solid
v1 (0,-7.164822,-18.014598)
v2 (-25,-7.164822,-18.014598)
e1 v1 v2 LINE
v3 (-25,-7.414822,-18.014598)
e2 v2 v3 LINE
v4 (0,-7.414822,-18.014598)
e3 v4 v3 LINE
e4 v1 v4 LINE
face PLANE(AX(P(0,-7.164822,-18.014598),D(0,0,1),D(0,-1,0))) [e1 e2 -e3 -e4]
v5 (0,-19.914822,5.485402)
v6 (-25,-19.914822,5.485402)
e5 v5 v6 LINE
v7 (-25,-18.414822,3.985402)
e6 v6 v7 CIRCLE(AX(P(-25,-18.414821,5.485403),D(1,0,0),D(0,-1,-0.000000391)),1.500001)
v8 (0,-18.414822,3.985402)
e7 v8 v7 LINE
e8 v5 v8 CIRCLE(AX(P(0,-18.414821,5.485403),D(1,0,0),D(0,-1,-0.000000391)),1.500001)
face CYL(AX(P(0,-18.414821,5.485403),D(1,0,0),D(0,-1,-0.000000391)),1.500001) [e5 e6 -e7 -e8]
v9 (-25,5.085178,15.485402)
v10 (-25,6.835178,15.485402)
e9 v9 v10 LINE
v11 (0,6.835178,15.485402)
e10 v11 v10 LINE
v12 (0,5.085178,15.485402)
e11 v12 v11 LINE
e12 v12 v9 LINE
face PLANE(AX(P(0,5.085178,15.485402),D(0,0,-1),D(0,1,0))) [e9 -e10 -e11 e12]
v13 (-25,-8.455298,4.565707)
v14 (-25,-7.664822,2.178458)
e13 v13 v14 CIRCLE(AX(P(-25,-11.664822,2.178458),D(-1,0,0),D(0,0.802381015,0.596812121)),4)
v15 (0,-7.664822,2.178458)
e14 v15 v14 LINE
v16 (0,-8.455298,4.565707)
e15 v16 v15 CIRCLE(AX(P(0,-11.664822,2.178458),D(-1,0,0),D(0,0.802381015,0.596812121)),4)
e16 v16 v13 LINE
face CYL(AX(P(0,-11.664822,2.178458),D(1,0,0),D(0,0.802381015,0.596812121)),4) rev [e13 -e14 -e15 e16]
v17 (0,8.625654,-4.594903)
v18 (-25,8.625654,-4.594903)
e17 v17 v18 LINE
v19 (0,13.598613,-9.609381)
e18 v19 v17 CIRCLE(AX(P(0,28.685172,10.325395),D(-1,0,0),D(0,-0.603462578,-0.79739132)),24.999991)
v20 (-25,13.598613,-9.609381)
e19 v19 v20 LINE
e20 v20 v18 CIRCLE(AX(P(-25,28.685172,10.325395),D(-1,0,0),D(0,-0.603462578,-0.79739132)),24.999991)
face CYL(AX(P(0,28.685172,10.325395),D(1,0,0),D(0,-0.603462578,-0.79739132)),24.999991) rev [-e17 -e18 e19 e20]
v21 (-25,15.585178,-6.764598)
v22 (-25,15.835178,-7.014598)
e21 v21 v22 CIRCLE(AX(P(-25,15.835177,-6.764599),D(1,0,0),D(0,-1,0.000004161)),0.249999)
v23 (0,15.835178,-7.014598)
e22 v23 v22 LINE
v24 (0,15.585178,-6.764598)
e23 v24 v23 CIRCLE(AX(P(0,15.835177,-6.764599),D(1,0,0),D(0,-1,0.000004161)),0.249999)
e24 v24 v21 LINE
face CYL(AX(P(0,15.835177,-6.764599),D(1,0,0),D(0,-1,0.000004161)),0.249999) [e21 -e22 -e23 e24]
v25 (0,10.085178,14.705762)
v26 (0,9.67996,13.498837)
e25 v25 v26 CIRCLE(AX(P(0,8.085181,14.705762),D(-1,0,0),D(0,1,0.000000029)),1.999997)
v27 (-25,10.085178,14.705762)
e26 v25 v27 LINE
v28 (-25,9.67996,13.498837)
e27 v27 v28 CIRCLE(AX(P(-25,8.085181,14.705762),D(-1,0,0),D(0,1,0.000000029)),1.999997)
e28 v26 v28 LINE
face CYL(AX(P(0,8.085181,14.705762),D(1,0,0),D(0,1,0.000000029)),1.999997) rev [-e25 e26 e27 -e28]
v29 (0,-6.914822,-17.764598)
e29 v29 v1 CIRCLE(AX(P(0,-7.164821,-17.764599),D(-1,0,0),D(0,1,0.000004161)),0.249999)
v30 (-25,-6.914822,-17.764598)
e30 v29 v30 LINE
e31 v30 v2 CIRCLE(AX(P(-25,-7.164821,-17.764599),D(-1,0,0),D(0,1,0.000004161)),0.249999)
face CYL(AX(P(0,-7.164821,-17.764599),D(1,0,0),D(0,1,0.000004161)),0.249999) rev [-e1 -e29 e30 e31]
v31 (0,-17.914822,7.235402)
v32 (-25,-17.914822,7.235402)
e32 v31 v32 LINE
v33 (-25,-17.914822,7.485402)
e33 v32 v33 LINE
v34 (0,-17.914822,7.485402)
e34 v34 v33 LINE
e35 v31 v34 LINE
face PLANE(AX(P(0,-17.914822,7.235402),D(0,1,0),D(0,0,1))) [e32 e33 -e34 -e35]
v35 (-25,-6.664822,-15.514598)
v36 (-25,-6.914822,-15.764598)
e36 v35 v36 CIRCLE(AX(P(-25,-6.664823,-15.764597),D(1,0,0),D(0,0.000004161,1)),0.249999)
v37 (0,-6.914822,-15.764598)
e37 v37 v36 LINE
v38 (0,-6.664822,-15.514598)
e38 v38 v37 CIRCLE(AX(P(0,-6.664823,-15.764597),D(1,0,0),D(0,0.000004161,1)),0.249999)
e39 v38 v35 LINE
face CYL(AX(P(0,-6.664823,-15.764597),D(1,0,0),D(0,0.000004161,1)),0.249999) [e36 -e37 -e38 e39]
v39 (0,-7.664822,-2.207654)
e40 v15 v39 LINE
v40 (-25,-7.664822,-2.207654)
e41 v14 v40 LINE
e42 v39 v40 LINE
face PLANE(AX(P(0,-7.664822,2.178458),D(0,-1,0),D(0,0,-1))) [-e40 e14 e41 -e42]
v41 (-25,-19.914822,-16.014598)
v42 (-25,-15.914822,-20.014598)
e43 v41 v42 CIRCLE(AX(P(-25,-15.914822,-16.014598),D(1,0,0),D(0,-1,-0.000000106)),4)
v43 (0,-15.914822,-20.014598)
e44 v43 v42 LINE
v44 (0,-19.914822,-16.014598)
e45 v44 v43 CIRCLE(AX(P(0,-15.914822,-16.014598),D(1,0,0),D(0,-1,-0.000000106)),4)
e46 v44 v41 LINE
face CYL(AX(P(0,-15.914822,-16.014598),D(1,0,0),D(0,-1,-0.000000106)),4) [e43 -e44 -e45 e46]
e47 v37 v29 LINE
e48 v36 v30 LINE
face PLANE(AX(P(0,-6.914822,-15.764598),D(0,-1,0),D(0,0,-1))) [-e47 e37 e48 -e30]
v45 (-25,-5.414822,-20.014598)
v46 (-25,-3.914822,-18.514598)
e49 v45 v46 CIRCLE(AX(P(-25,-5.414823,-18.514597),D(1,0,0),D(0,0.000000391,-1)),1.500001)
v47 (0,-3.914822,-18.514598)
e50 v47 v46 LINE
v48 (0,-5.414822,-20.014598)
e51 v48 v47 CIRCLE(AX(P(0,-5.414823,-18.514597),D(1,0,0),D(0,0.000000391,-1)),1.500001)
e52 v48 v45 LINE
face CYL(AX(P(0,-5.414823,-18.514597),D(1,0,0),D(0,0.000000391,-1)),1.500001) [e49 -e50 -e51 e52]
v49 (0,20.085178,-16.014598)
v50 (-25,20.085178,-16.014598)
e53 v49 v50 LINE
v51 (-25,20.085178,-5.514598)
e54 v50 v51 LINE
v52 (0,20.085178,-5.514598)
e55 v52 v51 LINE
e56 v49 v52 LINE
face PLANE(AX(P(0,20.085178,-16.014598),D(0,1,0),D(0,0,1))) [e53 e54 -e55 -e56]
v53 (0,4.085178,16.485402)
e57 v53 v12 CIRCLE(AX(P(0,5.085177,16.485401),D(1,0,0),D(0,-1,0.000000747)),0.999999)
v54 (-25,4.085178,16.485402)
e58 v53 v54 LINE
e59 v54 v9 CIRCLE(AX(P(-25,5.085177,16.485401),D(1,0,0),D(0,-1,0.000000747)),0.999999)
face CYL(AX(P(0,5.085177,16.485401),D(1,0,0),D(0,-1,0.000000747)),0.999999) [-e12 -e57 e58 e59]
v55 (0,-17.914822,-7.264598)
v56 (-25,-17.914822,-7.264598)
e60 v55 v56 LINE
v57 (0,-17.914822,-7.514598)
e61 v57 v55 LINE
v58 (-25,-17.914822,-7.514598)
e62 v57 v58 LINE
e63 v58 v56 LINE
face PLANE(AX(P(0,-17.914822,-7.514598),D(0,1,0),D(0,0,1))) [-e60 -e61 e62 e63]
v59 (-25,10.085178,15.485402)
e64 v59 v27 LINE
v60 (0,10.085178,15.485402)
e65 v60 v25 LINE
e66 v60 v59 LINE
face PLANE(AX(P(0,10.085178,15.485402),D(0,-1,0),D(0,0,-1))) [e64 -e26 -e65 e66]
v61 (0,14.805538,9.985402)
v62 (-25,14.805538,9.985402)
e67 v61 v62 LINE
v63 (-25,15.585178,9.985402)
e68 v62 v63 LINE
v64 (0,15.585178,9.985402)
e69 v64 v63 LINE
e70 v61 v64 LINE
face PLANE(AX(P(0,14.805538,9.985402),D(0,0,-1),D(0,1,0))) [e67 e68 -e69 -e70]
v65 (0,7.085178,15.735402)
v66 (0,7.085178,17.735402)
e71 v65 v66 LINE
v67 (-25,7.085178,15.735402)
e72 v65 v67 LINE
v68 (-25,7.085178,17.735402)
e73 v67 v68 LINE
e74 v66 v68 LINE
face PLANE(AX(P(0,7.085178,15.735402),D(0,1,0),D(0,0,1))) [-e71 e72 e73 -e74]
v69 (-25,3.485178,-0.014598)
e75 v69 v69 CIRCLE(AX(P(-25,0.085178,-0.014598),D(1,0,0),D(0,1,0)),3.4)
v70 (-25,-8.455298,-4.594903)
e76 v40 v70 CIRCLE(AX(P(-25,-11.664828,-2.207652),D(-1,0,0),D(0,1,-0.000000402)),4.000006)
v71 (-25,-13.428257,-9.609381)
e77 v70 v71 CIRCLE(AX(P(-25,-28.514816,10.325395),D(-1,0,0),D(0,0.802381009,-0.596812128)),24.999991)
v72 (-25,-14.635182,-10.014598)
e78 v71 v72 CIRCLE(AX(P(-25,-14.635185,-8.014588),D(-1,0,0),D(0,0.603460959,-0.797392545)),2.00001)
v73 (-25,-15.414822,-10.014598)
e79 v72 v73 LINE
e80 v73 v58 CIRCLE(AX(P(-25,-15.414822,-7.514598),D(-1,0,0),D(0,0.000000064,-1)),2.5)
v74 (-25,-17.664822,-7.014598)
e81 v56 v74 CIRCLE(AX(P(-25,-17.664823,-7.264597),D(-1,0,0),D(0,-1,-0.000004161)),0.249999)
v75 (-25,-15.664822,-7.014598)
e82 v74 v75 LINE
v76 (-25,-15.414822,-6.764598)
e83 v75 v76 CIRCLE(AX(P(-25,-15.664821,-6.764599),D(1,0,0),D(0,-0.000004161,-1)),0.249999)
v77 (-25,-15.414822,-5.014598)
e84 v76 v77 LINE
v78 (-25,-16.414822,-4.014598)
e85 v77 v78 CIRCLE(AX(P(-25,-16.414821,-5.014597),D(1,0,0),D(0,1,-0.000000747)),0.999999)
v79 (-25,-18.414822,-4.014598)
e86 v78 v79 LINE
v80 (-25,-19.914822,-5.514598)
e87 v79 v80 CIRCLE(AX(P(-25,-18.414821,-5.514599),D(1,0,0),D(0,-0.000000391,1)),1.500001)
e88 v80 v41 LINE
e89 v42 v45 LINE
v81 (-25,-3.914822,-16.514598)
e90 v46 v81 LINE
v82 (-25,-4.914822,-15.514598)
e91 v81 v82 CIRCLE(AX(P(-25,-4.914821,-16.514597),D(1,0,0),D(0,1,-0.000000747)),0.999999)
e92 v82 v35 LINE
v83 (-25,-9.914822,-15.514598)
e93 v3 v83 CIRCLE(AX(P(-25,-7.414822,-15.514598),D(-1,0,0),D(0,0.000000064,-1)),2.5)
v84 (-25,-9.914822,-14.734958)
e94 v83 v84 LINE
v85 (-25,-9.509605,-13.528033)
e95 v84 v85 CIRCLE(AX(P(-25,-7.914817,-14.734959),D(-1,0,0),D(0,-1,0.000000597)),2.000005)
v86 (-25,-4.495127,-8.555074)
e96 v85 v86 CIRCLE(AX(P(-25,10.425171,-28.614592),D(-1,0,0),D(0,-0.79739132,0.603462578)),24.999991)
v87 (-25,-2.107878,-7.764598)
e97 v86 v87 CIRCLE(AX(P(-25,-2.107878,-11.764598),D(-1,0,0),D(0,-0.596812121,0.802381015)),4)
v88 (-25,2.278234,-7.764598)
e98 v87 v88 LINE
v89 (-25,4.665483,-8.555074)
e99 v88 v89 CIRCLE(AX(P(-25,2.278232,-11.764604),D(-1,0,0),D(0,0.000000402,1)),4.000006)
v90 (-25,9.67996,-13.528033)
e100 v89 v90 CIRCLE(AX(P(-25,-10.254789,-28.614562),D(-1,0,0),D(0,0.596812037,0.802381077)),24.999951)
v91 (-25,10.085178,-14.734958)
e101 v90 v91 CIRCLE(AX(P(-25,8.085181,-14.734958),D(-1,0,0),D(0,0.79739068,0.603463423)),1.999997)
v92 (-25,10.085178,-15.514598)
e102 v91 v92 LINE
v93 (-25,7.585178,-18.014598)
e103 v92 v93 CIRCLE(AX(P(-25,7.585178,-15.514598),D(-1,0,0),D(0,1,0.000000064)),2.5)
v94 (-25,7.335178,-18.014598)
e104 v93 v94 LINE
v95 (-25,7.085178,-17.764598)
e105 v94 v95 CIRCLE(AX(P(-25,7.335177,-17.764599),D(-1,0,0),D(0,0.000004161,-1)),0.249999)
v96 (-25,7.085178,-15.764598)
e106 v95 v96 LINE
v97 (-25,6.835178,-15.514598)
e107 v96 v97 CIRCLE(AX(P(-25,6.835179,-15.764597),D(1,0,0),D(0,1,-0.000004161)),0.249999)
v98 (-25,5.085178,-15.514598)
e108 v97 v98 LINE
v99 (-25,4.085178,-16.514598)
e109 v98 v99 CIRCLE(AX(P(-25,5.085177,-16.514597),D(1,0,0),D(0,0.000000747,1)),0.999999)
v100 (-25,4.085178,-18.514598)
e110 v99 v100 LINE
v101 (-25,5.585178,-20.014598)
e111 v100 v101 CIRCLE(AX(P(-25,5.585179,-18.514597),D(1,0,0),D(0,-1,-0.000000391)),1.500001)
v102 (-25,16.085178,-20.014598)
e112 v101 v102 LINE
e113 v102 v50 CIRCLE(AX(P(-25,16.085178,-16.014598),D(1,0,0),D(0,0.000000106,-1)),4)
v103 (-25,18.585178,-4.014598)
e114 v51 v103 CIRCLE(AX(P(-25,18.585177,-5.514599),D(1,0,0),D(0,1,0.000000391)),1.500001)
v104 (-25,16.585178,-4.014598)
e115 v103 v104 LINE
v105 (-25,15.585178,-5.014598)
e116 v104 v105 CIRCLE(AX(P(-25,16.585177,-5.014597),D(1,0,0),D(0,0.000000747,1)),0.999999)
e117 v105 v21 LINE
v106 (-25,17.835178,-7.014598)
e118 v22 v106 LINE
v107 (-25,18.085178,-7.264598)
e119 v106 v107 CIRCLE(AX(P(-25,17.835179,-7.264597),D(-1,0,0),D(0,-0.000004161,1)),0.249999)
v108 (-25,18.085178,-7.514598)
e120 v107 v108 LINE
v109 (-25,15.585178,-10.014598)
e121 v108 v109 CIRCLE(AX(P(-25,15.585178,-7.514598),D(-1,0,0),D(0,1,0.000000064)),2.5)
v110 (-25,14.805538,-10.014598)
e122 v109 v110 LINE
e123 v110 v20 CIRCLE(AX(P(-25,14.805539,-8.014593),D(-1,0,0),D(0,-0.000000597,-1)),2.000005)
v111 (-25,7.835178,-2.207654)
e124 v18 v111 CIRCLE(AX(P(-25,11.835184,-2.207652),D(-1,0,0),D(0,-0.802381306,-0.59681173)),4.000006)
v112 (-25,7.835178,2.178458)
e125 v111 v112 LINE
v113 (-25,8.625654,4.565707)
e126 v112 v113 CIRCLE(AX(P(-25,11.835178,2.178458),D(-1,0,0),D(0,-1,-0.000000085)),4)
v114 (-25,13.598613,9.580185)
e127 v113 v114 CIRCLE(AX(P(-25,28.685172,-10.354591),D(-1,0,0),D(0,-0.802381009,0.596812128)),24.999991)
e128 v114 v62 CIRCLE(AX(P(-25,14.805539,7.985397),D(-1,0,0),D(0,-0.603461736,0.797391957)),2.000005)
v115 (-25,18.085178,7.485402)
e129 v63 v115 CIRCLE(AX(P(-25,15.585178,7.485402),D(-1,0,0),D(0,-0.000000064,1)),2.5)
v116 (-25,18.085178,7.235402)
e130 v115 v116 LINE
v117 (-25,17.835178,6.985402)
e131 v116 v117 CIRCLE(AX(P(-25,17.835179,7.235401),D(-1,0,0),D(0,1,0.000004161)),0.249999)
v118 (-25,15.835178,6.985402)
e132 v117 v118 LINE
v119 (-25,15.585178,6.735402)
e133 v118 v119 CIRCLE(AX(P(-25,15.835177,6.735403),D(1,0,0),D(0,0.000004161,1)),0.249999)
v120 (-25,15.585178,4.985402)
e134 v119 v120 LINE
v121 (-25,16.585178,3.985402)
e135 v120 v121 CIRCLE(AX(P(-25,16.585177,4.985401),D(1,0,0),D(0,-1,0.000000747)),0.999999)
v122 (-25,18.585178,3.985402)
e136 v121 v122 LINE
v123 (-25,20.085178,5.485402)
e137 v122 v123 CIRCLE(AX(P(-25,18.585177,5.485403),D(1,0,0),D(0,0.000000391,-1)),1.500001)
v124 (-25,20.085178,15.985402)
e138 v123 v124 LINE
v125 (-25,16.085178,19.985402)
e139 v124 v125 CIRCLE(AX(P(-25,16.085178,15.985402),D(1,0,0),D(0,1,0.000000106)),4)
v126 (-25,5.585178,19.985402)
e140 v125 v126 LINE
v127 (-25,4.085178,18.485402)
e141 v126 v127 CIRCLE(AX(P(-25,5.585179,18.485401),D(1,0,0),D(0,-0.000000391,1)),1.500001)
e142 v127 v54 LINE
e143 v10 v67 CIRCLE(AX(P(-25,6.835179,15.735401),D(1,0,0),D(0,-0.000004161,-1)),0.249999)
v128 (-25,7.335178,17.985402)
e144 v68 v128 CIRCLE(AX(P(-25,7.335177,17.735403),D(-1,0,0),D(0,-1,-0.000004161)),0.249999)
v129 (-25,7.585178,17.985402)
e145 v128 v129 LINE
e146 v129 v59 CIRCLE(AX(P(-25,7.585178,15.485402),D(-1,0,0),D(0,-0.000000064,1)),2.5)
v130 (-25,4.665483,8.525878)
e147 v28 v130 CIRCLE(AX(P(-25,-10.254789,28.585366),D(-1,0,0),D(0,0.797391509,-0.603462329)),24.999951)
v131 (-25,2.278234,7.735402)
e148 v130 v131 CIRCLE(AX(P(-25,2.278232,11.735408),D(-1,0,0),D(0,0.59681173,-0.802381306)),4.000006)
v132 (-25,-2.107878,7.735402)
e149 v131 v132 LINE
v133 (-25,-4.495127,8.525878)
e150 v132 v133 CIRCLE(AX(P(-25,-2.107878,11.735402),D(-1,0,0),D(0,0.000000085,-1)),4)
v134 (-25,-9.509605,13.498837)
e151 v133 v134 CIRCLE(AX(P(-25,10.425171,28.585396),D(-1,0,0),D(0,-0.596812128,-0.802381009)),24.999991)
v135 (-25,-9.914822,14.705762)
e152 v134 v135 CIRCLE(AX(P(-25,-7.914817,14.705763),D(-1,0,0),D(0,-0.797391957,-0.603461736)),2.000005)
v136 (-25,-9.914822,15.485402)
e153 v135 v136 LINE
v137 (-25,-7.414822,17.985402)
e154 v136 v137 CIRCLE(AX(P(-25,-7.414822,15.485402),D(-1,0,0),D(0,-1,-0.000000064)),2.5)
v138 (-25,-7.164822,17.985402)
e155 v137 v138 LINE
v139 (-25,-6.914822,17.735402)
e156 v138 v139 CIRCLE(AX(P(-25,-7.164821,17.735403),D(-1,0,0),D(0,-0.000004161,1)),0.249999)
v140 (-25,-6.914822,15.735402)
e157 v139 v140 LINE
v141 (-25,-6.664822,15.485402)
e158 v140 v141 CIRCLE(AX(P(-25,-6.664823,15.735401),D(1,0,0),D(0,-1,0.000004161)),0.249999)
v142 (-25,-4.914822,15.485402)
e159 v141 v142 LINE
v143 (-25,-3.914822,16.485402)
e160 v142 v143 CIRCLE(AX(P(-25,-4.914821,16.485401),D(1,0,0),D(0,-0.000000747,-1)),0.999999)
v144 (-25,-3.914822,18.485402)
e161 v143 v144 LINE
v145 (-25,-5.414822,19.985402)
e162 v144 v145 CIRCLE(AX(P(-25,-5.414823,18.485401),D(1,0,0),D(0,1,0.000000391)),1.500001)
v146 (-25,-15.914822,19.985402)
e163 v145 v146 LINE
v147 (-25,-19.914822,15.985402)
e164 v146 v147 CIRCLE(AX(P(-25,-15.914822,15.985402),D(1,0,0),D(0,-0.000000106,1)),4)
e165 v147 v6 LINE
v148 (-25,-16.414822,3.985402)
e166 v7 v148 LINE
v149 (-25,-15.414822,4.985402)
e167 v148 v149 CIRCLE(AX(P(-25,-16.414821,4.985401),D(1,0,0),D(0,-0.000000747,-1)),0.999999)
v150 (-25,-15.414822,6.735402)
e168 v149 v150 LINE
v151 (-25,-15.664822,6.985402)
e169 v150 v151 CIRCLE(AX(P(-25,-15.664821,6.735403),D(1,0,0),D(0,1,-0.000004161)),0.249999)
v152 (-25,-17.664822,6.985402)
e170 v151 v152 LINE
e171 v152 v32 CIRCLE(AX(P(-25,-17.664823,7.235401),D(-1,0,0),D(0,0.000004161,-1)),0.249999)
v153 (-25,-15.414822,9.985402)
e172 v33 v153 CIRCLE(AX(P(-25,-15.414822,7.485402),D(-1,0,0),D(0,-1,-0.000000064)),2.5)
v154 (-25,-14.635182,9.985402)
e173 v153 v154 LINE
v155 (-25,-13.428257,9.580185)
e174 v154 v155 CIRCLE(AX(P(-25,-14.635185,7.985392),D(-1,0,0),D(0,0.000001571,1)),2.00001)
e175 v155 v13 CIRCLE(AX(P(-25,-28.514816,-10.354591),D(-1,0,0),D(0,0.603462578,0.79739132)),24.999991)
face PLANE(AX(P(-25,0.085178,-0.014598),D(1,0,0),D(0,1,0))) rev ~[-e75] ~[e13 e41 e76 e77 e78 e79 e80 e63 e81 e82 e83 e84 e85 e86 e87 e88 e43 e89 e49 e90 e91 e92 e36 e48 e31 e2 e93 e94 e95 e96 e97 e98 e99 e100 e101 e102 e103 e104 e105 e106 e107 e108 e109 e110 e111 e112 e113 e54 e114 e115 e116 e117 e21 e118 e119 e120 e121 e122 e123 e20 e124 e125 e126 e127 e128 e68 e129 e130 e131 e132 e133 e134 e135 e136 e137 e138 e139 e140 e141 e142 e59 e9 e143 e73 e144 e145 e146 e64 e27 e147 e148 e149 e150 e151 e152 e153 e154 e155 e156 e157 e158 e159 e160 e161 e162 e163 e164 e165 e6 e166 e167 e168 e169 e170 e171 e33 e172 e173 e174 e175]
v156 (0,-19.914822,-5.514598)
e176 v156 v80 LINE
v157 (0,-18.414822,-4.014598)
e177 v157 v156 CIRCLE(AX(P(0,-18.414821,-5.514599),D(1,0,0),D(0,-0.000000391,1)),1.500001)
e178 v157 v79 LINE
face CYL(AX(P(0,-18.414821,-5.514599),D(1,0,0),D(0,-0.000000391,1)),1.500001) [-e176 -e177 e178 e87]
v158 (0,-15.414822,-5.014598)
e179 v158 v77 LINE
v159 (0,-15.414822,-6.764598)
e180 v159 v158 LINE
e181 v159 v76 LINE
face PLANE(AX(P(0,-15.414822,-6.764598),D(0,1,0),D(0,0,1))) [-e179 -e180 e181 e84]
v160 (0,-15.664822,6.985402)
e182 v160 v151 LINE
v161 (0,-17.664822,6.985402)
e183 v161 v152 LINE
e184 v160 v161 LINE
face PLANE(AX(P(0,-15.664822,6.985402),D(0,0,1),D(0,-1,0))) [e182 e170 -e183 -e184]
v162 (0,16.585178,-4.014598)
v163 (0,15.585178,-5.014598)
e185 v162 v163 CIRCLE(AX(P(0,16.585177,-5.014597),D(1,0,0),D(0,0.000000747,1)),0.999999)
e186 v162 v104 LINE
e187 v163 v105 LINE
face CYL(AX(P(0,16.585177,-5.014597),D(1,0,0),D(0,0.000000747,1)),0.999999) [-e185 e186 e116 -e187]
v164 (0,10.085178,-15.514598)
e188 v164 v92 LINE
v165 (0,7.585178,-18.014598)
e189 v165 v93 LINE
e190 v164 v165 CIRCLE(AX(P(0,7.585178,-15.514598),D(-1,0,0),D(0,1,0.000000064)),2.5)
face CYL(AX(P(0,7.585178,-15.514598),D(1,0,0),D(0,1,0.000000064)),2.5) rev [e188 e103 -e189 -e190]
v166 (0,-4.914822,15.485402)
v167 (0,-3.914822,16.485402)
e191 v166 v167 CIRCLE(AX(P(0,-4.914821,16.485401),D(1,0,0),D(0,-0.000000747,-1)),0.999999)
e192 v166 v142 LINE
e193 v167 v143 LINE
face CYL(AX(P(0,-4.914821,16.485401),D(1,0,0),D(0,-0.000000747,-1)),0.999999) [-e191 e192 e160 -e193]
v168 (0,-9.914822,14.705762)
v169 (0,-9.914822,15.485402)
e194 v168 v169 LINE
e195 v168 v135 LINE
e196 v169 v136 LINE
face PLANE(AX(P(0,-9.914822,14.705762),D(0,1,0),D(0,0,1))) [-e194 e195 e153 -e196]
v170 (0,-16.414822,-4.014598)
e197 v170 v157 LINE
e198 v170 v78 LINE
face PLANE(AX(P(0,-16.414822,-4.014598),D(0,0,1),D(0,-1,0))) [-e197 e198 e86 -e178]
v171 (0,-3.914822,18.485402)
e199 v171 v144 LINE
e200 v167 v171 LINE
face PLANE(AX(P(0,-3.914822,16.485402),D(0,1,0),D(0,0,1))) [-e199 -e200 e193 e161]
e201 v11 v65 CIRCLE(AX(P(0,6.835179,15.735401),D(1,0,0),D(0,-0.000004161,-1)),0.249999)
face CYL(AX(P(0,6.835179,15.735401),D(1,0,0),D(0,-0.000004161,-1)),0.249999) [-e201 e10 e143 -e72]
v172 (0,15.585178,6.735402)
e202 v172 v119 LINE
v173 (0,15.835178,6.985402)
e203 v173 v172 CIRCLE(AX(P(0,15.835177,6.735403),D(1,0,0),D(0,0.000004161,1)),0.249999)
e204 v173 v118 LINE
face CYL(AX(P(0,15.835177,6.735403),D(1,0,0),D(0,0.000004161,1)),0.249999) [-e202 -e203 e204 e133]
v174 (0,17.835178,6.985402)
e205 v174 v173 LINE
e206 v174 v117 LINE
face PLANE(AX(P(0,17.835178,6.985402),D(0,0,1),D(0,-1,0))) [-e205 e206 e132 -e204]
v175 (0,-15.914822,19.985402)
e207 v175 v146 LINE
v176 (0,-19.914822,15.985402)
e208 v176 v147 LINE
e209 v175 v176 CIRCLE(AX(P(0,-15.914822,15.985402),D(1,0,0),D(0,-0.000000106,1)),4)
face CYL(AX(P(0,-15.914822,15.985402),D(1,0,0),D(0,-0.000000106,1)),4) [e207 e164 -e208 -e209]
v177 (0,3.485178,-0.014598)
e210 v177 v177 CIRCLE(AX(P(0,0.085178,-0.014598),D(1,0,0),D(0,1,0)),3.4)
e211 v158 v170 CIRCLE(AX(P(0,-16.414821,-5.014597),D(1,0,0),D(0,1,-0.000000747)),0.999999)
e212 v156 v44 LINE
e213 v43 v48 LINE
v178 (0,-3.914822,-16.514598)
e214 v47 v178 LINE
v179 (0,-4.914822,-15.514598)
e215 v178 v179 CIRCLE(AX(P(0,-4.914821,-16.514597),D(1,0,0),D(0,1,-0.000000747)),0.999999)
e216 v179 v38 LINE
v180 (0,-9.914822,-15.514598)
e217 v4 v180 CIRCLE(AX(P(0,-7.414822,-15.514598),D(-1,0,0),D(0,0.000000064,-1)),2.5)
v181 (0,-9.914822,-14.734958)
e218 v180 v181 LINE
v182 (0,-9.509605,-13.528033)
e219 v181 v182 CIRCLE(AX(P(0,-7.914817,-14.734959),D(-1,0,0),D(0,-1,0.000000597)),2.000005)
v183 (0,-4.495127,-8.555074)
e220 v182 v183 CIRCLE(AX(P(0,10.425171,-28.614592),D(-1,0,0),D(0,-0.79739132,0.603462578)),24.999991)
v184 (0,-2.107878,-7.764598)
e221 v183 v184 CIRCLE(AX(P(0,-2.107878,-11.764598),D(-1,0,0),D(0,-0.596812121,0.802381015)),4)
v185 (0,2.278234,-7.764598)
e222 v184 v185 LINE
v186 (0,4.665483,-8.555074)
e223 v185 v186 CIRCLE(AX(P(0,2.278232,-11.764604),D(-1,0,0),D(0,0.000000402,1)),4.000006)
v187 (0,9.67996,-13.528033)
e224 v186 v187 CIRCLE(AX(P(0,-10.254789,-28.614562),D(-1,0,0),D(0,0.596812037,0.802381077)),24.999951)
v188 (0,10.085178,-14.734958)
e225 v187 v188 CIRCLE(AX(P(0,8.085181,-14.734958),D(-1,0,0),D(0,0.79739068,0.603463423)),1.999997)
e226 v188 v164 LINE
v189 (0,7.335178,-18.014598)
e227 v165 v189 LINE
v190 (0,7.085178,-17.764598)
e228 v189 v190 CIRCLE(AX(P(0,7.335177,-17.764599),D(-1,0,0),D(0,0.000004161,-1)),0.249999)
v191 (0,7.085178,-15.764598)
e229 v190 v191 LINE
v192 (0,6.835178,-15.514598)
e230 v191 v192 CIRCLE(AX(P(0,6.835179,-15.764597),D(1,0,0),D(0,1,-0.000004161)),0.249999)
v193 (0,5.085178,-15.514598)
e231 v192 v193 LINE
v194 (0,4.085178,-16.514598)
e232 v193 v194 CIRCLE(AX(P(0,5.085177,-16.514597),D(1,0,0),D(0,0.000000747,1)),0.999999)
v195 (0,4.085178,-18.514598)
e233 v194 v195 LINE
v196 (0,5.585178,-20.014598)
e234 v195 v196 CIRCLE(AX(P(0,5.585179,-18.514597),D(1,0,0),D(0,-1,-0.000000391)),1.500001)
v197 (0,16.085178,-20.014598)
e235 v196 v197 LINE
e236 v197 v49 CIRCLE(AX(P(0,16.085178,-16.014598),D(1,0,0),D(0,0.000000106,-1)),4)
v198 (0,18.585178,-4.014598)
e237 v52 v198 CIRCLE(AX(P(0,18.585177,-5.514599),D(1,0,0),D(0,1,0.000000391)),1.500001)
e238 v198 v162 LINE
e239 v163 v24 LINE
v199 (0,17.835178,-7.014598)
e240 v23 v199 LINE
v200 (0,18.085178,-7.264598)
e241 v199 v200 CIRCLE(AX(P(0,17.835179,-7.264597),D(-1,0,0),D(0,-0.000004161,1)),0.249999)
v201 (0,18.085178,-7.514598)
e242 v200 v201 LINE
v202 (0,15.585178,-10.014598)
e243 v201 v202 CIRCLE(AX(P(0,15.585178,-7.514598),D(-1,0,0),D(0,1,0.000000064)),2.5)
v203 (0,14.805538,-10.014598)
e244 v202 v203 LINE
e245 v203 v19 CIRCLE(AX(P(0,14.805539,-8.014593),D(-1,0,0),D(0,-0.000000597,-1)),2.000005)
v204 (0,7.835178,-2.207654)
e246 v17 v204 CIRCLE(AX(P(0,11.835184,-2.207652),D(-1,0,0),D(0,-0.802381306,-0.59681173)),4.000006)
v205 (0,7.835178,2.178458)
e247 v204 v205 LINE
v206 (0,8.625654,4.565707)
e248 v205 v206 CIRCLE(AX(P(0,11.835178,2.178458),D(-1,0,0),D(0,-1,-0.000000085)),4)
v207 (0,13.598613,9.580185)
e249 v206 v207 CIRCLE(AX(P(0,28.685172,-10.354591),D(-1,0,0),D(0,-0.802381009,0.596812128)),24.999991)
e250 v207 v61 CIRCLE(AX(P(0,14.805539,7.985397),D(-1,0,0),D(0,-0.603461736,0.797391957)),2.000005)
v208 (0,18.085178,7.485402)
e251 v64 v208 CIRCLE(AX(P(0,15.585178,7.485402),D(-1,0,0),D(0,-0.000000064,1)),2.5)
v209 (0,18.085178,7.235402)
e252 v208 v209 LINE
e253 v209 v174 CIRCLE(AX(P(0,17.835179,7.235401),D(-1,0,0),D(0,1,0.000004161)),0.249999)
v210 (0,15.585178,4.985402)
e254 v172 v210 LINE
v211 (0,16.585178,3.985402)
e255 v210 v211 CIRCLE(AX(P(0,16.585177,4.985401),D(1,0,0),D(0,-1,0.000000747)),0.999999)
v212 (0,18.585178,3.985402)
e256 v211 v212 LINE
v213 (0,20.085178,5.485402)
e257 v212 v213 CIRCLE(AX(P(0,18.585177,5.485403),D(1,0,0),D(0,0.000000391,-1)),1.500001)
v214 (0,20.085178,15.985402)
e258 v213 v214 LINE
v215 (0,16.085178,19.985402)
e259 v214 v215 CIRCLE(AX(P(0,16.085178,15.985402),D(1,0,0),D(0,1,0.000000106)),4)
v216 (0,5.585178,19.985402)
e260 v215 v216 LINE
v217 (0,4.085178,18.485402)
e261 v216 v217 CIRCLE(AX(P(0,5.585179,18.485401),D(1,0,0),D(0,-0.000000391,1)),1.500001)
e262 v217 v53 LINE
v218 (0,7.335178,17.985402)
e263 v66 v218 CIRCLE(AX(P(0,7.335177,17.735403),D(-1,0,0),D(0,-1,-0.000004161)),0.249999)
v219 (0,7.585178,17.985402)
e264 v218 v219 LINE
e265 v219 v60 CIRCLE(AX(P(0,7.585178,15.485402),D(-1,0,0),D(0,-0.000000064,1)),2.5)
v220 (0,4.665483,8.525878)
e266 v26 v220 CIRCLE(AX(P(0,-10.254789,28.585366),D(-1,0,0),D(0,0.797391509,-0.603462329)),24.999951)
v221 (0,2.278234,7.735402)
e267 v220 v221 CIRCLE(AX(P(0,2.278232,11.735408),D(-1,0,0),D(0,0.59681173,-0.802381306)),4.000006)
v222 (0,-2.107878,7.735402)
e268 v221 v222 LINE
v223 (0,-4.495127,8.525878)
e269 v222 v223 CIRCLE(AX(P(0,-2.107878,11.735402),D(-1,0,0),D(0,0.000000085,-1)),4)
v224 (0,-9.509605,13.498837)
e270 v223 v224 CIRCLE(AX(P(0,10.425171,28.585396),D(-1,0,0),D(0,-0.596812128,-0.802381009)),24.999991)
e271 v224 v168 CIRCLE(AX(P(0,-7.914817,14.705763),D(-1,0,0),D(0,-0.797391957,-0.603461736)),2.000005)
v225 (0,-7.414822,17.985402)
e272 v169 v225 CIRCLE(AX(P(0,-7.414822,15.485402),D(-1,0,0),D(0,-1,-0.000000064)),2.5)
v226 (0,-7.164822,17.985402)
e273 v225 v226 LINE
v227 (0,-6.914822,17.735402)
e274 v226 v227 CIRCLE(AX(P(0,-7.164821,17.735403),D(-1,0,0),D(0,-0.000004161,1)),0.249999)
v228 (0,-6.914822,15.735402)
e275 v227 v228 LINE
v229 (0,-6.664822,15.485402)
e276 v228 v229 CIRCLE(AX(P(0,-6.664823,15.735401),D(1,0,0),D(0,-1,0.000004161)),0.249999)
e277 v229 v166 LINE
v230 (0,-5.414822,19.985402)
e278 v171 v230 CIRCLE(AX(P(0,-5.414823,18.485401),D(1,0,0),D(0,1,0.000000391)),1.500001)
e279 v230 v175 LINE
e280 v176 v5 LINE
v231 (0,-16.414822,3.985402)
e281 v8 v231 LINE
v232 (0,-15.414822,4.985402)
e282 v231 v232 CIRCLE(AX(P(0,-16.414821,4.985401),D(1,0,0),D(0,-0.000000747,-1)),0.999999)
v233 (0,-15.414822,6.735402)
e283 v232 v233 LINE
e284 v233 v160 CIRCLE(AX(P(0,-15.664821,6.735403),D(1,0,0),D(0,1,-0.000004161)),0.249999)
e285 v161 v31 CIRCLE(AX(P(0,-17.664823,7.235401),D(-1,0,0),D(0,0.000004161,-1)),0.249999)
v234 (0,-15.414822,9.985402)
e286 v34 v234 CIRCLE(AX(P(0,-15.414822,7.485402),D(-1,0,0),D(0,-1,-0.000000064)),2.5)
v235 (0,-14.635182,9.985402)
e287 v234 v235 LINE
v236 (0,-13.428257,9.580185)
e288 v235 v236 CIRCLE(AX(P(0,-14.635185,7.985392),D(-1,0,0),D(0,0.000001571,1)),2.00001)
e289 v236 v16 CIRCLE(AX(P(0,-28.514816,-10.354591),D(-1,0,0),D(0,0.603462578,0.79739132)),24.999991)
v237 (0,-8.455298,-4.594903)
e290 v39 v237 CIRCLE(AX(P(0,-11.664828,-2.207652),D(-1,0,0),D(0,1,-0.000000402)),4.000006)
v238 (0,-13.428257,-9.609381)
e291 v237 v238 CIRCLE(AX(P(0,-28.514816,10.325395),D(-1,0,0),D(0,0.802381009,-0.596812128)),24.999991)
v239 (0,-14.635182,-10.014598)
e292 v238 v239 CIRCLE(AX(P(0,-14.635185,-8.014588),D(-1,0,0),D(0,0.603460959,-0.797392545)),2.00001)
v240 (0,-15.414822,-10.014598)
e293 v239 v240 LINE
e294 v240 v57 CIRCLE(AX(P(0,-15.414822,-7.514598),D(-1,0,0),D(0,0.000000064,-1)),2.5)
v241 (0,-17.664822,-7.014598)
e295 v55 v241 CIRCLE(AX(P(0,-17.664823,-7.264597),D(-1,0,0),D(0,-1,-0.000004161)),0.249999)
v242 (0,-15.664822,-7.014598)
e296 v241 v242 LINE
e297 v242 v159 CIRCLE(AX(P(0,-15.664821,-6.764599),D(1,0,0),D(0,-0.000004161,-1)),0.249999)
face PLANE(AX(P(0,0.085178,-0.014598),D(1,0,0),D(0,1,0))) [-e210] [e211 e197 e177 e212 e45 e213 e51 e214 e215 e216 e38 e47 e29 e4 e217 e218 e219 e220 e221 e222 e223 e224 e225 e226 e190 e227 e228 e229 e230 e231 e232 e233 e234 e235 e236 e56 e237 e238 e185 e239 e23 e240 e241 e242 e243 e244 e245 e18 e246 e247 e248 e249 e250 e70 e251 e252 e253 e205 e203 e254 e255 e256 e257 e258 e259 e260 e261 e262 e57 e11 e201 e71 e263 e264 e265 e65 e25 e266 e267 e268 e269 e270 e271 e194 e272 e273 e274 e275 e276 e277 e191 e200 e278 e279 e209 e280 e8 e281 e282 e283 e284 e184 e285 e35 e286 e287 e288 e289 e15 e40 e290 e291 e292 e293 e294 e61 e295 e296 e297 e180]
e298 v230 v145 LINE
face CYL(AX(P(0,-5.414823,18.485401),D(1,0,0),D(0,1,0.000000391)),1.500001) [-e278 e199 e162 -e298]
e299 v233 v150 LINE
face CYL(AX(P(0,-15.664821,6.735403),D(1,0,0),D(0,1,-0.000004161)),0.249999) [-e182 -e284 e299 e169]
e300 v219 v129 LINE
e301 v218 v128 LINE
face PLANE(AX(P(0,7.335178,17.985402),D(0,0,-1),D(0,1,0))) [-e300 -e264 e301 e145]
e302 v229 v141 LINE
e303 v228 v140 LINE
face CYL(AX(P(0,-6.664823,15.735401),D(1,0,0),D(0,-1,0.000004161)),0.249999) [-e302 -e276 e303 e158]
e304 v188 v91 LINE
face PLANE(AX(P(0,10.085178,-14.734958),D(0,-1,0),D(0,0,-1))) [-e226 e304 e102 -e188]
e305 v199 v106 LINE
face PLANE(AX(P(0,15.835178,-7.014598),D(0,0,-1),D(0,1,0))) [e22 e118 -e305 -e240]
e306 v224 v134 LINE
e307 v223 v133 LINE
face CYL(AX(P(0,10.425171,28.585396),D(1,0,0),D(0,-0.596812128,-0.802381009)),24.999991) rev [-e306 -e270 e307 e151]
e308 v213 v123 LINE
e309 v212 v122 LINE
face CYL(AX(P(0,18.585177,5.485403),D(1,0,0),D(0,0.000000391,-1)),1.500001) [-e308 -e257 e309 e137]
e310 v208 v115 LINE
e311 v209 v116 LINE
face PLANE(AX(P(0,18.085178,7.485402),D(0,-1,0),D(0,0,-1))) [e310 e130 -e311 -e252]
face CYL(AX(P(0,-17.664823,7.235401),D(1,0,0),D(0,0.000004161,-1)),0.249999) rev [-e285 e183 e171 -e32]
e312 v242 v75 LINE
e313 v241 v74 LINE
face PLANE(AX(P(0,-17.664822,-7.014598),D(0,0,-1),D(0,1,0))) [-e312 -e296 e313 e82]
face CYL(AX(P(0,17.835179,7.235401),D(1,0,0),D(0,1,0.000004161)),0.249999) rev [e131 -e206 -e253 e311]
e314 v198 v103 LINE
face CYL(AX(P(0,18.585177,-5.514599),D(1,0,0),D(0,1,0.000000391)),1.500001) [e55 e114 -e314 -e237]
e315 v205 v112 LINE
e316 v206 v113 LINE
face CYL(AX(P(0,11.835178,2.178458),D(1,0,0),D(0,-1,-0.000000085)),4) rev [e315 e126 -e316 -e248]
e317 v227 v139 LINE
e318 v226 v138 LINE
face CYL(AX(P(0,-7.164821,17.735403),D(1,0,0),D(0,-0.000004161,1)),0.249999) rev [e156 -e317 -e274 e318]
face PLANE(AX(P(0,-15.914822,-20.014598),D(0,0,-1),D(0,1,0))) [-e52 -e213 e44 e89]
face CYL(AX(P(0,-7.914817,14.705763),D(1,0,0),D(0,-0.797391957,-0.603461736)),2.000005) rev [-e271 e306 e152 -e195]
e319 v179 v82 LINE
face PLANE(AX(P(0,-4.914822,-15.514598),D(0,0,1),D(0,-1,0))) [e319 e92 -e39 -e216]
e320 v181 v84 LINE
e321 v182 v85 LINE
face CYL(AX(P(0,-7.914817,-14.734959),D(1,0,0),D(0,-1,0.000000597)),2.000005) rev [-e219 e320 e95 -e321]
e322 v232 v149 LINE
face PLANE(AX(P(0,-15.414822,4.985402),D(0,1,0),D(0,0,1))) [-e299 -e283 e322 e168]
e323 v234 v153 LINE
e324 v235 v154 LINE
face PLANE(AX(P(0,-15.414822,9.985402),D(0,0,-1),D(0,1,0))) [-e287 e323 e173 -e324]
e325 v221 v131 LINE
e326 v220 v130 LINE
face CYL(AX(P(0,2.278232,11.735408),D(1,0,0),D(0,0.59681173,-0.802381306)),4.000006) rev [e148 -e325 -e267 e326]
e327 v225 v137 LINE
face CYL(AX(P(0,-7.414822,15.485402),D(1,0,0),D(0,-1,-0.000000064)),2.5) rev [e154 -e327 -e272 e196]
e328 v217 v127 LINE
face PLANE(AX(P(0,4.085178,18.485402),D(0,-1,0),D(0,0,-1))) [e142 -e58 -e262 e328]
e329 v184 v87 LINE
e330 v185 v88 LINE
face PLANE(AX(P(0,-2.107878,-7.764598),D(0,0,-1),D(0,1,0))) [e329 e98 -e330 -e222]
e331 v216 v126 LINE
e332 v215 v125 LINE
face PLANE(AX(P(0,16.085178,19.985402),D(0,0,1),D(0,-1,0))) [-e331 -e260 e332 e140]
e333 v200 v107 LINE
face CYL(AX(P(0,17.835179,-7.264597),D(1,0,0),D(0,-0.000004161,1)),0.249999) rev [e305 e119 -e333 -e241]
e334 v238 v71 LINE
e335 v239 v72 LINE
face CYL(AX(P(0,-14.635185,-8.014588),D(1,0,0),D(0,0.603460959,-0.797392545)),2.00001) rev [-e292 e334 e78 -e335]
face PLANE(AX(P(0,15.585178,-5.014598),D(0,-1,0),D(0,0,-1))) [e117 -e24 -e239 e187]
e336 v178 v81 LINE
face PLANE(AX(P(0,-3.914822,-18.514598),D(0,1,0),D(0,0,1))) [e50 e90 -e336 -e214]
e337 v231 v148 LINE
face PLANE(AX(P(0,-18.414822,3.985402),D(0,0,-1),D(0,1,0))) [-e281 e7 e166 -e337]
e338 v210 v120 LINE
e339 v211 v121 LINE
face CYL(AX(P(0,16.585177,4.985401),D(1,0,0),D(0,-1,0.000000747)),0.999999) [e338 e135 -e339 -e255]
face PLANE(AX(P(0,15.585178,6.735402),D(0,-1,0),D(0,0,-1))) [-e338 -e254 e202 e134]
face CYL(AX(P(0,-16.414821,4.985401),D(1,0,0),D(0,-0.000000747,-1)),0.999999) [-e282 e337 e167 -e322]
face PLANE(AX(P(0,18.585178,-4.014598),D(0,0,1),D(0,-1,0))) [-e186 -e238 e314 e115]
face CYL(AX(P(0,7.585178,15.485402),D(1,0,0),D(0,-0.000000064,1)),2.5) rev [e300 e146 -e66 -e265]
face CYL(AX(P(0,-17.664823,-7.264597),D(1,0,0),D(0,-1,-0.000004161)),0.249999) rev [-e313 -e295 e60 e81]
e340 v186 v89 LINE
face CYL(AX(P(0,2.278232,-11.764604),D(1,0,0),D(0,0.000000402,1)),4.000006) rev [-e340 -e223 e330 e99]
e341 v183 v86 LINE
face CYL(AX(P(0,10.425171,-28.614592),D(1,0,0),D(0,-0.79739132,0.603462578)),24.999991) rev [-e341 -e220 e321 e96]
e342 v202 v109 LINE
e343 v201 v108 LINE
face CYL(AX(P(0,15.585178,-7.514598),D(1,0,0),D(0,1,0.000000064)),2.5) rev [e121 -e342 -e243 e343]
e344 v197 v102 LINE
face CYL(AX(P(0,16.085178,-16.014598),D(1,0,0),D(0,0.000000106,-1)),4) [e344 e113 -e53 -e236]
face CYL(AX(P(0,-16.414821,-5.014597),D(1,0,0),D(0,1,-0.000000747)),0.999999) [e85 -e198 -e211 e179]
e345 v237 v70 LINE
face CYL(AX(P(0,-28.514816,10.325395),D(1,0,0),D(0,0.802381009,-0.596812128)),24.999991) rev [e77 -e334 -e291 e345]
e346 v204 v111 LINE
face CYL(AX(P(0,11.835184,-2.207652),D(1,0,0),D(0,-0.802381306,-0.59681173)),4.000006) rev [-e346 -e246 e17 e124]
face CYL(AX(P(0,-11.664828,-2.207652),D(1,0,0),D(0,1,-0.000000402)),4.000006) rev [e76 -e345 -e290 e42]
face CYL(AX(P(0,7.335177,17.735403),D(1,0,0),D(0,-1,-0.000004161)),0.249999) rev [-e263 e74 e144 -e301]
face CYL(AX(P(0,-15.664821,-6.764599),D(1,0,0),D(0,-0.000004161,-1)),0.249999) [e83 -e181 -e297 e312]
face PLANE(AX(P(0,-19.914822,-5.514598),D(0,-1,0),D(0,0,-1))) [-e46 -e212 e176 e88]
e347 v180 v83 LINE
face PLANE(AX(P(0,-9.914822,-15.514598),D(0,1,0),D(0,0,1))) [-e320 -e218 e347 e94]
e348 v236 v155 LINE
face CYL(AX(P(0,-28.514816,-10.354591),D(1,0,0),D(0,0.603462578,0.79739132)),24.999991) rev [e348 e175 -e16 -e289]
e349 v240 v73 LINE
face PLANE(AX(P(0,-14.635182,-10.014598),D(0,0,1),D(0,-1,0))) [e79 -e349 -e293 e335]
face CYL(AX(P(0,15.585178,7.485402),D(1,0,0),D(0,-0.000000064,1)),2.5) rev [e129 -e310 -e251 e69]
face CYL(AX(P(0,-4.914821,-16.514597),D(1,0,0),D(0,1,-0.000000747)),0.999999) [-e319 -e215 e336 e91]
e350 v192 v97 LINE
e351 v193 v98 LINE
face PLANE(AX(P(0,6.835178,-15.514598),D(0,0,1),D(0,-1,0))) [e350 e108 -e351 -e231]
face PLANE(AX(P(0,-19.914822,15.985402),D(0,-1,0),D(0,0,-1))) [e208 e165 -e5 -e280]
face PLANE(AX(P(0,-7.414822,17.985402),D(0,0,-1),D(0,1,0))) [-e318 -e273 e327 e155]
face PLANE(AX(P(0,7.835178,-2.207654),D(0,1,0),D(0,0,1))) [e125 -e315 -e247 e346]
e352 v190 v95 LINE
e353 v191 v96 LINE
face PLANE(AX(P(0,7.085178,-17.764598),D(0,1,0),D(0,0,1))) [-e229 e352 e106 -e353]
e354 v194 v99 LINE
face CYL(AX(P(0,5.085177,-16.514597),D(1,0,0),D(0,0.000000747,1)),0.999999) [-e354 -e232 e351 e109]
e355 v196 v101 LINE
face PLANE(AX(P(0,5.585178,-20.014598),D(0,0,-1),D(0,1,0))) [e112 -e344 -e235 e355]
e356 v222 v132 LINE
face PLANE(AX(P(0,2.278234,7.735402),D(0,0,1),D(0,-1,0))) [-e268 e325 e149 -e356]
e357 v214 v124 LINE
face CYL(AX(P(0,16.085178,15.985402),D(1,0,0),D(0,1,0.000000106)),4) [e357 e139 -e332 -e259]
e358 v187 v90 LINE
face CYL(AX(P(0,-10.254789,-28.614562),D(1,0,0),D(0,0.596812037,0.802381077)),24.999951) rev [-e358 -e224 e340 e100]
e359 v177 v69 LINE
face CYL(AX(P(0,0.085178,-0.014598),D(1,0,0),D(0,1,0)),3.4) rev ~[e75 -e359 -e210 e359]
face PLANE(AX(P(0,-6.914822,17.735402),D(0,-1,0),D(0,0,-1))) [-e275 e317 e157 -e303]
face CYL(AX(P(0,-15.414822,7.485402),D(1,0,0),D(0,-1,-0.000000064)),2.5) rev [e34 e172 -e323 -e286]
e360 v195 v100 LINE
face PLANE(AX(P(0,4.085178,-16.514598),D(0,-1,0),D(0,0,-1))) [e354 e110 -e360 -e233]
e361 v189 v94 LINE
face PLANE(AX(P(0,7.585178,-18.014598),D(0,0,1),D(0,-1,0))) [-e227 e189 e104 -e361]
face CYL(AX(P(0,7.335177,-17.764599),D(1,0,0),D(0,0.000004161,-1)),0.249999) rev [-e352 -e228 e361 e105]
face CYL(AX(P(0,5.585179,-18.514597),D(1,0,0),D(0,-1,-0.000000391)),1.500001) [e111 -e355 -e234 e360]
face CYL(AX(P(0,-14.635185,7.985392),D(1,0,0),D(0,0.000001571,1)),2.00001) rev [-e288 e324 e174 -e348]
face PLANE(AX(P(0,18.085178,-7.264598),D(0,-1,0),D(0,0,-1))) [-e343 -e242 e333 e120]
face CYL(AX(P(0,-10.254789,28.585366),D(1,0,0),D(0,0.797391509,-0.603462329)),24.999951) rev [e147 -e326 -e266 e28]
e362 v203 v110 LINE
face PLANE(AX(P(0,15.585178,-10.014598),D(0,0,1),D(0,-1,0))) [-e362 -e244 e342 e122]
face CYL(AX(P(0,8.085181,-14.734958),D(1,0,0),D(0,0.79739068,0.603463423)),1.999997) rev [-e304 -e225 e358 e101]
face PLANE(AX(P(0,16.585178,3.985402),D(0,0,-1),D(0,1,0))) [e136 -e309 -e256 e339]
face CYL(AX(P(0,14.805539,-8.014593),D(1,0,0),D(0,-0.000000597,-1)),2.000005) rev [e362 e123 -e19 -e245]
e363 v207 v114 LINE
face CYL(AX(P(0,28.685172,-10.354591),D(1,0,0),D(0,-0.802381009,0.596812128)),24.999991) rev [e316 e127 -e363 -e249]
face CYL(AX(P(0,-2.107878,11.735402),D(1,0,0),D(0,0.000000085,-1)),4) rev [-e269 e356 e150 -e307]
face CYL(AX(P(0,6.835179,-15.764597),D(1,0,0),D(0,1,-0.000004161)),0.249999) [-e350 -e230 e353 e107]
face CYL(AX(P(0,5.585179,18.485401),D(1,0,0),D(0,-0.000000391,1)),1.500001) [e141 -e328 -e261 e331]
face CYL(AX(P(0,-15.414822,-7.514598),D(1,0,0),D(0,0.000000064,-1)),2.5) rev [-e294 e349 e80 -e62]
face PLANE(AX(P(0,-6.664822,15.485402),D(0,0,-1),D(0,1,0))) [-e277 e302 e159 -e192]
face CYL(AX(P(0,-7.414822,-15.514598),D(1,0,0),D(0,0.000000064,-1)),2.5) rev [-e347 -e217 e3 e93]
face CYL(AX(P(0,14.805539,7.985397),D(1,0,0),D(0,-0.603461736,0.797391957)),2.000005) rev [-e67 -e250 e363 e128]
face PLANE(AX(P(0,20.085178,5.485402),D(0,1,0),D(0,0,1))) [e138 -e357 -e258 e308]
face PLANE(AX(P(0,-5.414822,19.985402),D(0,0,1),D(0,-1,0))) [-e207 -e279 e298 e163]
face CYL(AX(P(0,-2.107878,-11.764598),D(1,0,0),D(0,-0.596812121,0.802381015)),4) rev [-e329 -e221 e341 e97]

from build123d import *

# Parameters (mm, degrees)
F0_R     = 3.4
F1_DEPTH = 25


with BuildPart() as f1:
    # F0 (on Right) → F1 (new body)
    with BuildSketch(Plane.YZ):
        with BuildLine():
            Line((4.085178, -16.514598), (4.085178, -18.514598))
            ThreePointArc((4.085178, -18.514598), (4.524518, -19.575258), (5.585178, -20.014598))
            Line((5.585178, -20.014598), (16.085178, -20.014598))
            ThreePointArc((16.085178, -20.014598), (18.913605, -18.843025), (20.085178, -16.014598))
            Line((20.085178, -16.014598), (20.085178, -5.514598))
            ThreePointArc((20.085178, -5.514598), (19.645838, -4.453938), (18.585178, -4.014598))
            Line((18.585178, -4.014598), (16.585178, -4.014598))
            ThreePointArc((16.585178, -4.014598), (15.878071, -4.307491), (15.585178, -5.014598))
            Line((15.585178, -5.014598), (15.585178, -6.764598))
            ThreePointArc((15.585178, -6.764598), (15.658401, -6.941375), (15.835178, -7.014598))
            Line((15.835178, -7.014598), (17.835178, -7.014598))
            ThreePointArc((17.835178, -7.014598), (18.011955, -7.087821), (18.085178, -7.264598))
            Line((18.085178, -7.264598), (18.085178, -7.514598))
            ThreePointArc((18.085178, -7.514598), (17.352945, -9.282365), (15.585178, -10.014598))
            Line((15.585178, -10.014598), (14.805538, -10.014598))
            ThreePointArc((14.805538, -10.014598), (14.168971, -9.910589), (13.598613, -9.609381))
            ThreePointArc((13.598613, -9.609381), (10.934174, -7.278628), (8.625654, -4.594903))
            ThreePointArc((8.625654, -4.594903), (8.037936, -3.465013), (7.835178, -2.207654))
            Line((7.835178, -2.207654), (7.835178, 2.178458))
            ThreePointArc((7.835178, 2.178458), (8.037936, 3.435818), (8.625654, 4.565707))
            ThreePointArc((8.625654, 4.565707), (10.934174, 7.249432), (13.598613, 9.580185))
            ThreePointArc((13.598613, 9.580185), (14.168971, 9.881393), (14.805538, 9.985402))
            Line((14.805538, 9.985402), (15.585178, 9.985402))
            ThreePointArc((15.585178, 9.985402), (17.352945, 9.253169), (18.085178, 7.485402))
            Line((18.085178, 7.485402), (18.085178, 7.235402))
            ThreePointArc((18.085178, 7.235402), (18.011955, 7.058625), (17.835178, 6.985402))
            Line((17.835178, 6.985402), (15.835178, 6.985402))
            ThreePointArc((15.835178, 6.985402), (15.658401, 6.912179), (15.585178, 6.735402))
            Line((15.585178, 6.735402), (15.585178, 4.985402))
            ThreePointArc((15.585178, 4.985402), (15.878071, 4.278295), (16.585178, 3.985402))
            Line((16.585178, 3.985402), (18.585178, 3.985402))
            ThreePointArc((18.585178, 3.985402), (19.645838, 4.424742), (20.085178, 5.485402))
            Line((20.085178, 5.485402), (20.085178, 15.985402))
            ThreePointArc((20.085178, 15.985402), (18.913605, 18.813829), (16.085178, 19.985402))
            Line((16.085178, 19.985402), (5.585178, 19.985402))
            ThreePointArc((5.585178, 19.985402), (4.524518, 19.546062), (4.085178, 18.485402))
            Line((4.085178, 18.485402), (4.085178, 16.485402))
            ThreePointArc((4.085178, 16.485402), (4.378071, 15.778295), (5.085178, 15.485402))
            Line((5.085178, 15.485402), (6.835178, 15.485402))
            ThreePointArc((6.835178, 15.485402), (7.011955, 15.558625), (7.085178, 15.735402))
            Line((7.085178, 15.735402), (7.085178, 17.735402))
            ThreePointArc((7.085178, 17.735402), (7.158401, 17.912179), (7.335178, 17.985402))
            Line((7.335178, 17.985402), (7.585178, 17.985402))
            ThreePointArc((7.585178, 17.985402), (9.352945, 17.253169), (10.085178, 15.485402))
            Line((10.085178, 15.485402), (10.085178, 14.705762))
            ThreePointArc((10.085178, 14.705762), (9.981169, 14.069195), (9.67996, 13.498837))
            ThreePointArc((9.67996, 13.498837), (7.349208, 10.834398), (4.665483, 8.525878))
            ThreePointArc((4.665483, 8.525878), (3.535593, 7.93816), (2.278234, 7.735402))
            Line((2.278234, 7.735402), (-2.107878, 7.735402))
            ThreePointArc((-2.107878, 7.735402), (-3.365238, 7.93816), (-4.495127, 8.525878))
            ThreePointArc((-4.495127, 8.525878), (-7.178852, 10.834398), (-9.509605, 13.498837))
            ThreePointArc((-9.509605, 13.498837), (-9.810813, 14.069195), (-9.914822, 14.705762))
            Line((-9.914822, 14.705762), (-9.914822, 15.485402))
            ThreePointArc((-9.914822, 15.485402), (-9.182589, 17.253169), (-7.414822, 17.985402))
            Line((-7.414822, 17.985402), (-7.164822, 17.985402))
            ThreePointArc((-7.164822, 17.985402), (-6.988045, 17.912179), (-6.914822, 17.735402))
            Line((-6.914822, 17.735402), (-6.914822, 15.735402))
            ThreePointArc((-6.914822, 15.735402), (-6.841599, 15.558625), (-6.664822, 15.485402))
            Line((-6.664822, 15.485402), (-4.914822, 15.485402))
            ThreePointArc((-4.914822, 15.485402), (-4.207715, 15.778295), (-3.914822, 16.485402))
            Line((-3.914822, 16.485402), (-3.914822, 18.485402))
            ThreePointArc((-3.914822, 18.485402), (-4.354162, 19.546062), (-5.414822, 19.985402))
            Line((-5.414822, 19.985402), (-15.914822, 19.985402))
            ThreePointArc((-15.914822, 19.985402), (-18.743249, 18.813829), (-19.914822, 15.985402))
            Line((-19.914822, 15.985402), (-19.914822, 5.485402))
            ThreePointArc((-19.914822, 5.485402), (-19.475482, 4.424742), (-18.414822, 3.985402))
            Line((-18.414822, 3.985402), (-16.414822, 3.985402))
            ThreePointArc((-16.414822, 3.985402), (-15.707715, 4.278295), (-15.414822, 4.985402))
            Line((-15.414822, 4.985402), (-15.414822, 6.735402))
            ThreePointArc((-15.414822, 6.735402), (-15.488045, 6.912179), (-15.664822, 6.985402))
            Line((-15.664822, 6.985402), (-17.664822, 6.985402))
            ThreePointArc((-17.664822, 6.985402), (-17.841599, 7.058625), (-17.914822, 7.235402))
            Line((-17.914822, 7.235402), (-17.914822, 7.485402))
            ThreePointArc((-17.914822, 7.485402), (-17.182589, 9.253169), (-15.414822, 9.985402))
            Line((-15.414822, 9.985402), (-14.635182, 9.985402))
            ThreePointArc((-14.635182, 9.985402), (-13.998616, 9.881393), (-13.428257, 9.580185))
            ThreePointArc((-13.428257, 9.580185), (-10.763818, 7.249432), (-8.455298, 4.565707))
            ThreePointArc((-8.455298, 4.565707), (-7.86758, 3.435818), (-7.664822, 2.178458))
            Line((-7.664822, 2.178458), (-7.664822, -2.207654))
            ThreePointArc((-7.664822, -2.207654), (-7.86758, -3.465013), (-8.455298, -4.594903))
            ThreePointArc((-8.455298, -4.594903), (-10.763818, -7.278628), (-13.428257, -9.609381))
            ThreePointArc((-13.428257, -9.609381), (-13.998616, -9.910589), (-14.635182, -10.014598))
            Line((-14.635182, -10.014598), (-15.414822, -10.014598))
            ThreePointArc((-15.414822, -10.014598), (-17.182589, -9.282365), (-17.914822, -7.514598))
            Line((-17.914822, -7.514598), (-17.914822, -7.264598))
            ThreePointArc((-17.914822, -7.264598), (-17.841599, -7.087821), (-17.664822, -7.014598))
            Line((-17.664822, -7.014598), (-15.664822, -7.014598))
            ThreePointArc((-15.664822, -7.014598), (-15.488045, -6.941375), (-15.414822, -6.764598))
            Line((-15.414822, -6.764598), (-15.414822, -5.014598))
            ThreePointArc((-15.414822, -5.014598), (-15.707715, -4.307491), (-16.414822, -4.014598))
            Line((-16.414822, -4.014598), (-18.414822, -4.014598))
            ThreePointArc((-18.414822, -4.014598), (-19.475482, -4.453938), (-19.914822, -5.514598))
            Line((-19.914822, -5.514598), (-19.914822, -16.014598))
            ThreePointArc((-19.914822, -16.014598), (-18.743249, -18.843025), (-15.914822, -20.014598))
            Line((-15.914822, -20.014598), (-5.414822, -20.014598))
            ThreePointArc((-5.414822, -20.014598), (-4.354162, -19.575258), (-3.914822, -18.514598))
            Line((-3.914822, -18.514598), (-3.914822, -16.514598))
            ThreePointArc((-3.914822, -16.514598), (-4.207715, -15.807491), (-4.914822, -15.514598))
            Line((-4.914822, -15.514598), (-6.664822, -15.514598))
            ThreePointArc((-6.664822, -15.514598), (-6.841599, -15.587821), (-6.914822, -15.764598))
            Line((-6.914822, -15.764598), (-6.914822, -17.764598))
            ThreePointArc((-6.914822, -17.764598), (-6.988045, -17.941375), (-7.164822, -18.014598))
            Line((-7.164822, -18.014598), (-7.414822, -18.014598))
            ThreePointArc((-7.414822, -18.014598), (-9.182589, -17.282365), (-9.914822, -15.514598))
            Line((-9.914822, -15.514598), (-9.914822, -14.734958))
            ThreePointArc((-9.914822, -14.734958), (-9.810813, -14.098391), (-9.509605, -13.528033))
            ThreePointArc((-9.509605, -13.528033), (-7.178852, -10.863594), (-4.495127, -8.555074))
            ThreePointArc((-4.495127, -8.555074), (-3.365238, -7.967356), (-2.107878, -7.764598))
            Line((-2.107878, -7.764598), (2.278234, -7.764598))
            ThreePointArc((2.278234, -7.764598), (3.535593, -7.967356), (4.665483, -8.555074))
            ThreePointArc((4.665483, -8.555074), (7.349208, -10.863594), (9.67996, -13.528033))
            ThreePointArc((9.67996, -13.528033), (9.981169, -14.098391), (10.085178, -14.734958))
            Line((10.085178, -14.734958), (10.085178, -15.514598))
            ThreePointArc((10.085178, -15.514598), (9.352945, -17.282365), (7.585178, -18.014598))
            Line((7.585178, -18.014598), (7.335178, -18.014598))
            ThreePointArc((7.335178, -18.014598), (7.158401, -17.941375), (7.085178, -17.764598))
            Line((7.085178, -17.764598), (7.085178, -15.764598))
            ThreePointArc((7.085178, -15.764598), (7.011955, -15.587821), (6.835178, -15.514598))
            Line((6.835178, -15.514598), (5.085178, -15.514598))
            ThreePointArc((5.085178, -15.514598), (4.378071, -15.807491), (4.085178, -16.514598))
        make_face()
        with Locations((0.085178, -0.014598)):
            Circle(F0_R, mode=Mode.SUBTRACT)
    extrude(amount=-F1_DEPTH)


solid = f1.part
